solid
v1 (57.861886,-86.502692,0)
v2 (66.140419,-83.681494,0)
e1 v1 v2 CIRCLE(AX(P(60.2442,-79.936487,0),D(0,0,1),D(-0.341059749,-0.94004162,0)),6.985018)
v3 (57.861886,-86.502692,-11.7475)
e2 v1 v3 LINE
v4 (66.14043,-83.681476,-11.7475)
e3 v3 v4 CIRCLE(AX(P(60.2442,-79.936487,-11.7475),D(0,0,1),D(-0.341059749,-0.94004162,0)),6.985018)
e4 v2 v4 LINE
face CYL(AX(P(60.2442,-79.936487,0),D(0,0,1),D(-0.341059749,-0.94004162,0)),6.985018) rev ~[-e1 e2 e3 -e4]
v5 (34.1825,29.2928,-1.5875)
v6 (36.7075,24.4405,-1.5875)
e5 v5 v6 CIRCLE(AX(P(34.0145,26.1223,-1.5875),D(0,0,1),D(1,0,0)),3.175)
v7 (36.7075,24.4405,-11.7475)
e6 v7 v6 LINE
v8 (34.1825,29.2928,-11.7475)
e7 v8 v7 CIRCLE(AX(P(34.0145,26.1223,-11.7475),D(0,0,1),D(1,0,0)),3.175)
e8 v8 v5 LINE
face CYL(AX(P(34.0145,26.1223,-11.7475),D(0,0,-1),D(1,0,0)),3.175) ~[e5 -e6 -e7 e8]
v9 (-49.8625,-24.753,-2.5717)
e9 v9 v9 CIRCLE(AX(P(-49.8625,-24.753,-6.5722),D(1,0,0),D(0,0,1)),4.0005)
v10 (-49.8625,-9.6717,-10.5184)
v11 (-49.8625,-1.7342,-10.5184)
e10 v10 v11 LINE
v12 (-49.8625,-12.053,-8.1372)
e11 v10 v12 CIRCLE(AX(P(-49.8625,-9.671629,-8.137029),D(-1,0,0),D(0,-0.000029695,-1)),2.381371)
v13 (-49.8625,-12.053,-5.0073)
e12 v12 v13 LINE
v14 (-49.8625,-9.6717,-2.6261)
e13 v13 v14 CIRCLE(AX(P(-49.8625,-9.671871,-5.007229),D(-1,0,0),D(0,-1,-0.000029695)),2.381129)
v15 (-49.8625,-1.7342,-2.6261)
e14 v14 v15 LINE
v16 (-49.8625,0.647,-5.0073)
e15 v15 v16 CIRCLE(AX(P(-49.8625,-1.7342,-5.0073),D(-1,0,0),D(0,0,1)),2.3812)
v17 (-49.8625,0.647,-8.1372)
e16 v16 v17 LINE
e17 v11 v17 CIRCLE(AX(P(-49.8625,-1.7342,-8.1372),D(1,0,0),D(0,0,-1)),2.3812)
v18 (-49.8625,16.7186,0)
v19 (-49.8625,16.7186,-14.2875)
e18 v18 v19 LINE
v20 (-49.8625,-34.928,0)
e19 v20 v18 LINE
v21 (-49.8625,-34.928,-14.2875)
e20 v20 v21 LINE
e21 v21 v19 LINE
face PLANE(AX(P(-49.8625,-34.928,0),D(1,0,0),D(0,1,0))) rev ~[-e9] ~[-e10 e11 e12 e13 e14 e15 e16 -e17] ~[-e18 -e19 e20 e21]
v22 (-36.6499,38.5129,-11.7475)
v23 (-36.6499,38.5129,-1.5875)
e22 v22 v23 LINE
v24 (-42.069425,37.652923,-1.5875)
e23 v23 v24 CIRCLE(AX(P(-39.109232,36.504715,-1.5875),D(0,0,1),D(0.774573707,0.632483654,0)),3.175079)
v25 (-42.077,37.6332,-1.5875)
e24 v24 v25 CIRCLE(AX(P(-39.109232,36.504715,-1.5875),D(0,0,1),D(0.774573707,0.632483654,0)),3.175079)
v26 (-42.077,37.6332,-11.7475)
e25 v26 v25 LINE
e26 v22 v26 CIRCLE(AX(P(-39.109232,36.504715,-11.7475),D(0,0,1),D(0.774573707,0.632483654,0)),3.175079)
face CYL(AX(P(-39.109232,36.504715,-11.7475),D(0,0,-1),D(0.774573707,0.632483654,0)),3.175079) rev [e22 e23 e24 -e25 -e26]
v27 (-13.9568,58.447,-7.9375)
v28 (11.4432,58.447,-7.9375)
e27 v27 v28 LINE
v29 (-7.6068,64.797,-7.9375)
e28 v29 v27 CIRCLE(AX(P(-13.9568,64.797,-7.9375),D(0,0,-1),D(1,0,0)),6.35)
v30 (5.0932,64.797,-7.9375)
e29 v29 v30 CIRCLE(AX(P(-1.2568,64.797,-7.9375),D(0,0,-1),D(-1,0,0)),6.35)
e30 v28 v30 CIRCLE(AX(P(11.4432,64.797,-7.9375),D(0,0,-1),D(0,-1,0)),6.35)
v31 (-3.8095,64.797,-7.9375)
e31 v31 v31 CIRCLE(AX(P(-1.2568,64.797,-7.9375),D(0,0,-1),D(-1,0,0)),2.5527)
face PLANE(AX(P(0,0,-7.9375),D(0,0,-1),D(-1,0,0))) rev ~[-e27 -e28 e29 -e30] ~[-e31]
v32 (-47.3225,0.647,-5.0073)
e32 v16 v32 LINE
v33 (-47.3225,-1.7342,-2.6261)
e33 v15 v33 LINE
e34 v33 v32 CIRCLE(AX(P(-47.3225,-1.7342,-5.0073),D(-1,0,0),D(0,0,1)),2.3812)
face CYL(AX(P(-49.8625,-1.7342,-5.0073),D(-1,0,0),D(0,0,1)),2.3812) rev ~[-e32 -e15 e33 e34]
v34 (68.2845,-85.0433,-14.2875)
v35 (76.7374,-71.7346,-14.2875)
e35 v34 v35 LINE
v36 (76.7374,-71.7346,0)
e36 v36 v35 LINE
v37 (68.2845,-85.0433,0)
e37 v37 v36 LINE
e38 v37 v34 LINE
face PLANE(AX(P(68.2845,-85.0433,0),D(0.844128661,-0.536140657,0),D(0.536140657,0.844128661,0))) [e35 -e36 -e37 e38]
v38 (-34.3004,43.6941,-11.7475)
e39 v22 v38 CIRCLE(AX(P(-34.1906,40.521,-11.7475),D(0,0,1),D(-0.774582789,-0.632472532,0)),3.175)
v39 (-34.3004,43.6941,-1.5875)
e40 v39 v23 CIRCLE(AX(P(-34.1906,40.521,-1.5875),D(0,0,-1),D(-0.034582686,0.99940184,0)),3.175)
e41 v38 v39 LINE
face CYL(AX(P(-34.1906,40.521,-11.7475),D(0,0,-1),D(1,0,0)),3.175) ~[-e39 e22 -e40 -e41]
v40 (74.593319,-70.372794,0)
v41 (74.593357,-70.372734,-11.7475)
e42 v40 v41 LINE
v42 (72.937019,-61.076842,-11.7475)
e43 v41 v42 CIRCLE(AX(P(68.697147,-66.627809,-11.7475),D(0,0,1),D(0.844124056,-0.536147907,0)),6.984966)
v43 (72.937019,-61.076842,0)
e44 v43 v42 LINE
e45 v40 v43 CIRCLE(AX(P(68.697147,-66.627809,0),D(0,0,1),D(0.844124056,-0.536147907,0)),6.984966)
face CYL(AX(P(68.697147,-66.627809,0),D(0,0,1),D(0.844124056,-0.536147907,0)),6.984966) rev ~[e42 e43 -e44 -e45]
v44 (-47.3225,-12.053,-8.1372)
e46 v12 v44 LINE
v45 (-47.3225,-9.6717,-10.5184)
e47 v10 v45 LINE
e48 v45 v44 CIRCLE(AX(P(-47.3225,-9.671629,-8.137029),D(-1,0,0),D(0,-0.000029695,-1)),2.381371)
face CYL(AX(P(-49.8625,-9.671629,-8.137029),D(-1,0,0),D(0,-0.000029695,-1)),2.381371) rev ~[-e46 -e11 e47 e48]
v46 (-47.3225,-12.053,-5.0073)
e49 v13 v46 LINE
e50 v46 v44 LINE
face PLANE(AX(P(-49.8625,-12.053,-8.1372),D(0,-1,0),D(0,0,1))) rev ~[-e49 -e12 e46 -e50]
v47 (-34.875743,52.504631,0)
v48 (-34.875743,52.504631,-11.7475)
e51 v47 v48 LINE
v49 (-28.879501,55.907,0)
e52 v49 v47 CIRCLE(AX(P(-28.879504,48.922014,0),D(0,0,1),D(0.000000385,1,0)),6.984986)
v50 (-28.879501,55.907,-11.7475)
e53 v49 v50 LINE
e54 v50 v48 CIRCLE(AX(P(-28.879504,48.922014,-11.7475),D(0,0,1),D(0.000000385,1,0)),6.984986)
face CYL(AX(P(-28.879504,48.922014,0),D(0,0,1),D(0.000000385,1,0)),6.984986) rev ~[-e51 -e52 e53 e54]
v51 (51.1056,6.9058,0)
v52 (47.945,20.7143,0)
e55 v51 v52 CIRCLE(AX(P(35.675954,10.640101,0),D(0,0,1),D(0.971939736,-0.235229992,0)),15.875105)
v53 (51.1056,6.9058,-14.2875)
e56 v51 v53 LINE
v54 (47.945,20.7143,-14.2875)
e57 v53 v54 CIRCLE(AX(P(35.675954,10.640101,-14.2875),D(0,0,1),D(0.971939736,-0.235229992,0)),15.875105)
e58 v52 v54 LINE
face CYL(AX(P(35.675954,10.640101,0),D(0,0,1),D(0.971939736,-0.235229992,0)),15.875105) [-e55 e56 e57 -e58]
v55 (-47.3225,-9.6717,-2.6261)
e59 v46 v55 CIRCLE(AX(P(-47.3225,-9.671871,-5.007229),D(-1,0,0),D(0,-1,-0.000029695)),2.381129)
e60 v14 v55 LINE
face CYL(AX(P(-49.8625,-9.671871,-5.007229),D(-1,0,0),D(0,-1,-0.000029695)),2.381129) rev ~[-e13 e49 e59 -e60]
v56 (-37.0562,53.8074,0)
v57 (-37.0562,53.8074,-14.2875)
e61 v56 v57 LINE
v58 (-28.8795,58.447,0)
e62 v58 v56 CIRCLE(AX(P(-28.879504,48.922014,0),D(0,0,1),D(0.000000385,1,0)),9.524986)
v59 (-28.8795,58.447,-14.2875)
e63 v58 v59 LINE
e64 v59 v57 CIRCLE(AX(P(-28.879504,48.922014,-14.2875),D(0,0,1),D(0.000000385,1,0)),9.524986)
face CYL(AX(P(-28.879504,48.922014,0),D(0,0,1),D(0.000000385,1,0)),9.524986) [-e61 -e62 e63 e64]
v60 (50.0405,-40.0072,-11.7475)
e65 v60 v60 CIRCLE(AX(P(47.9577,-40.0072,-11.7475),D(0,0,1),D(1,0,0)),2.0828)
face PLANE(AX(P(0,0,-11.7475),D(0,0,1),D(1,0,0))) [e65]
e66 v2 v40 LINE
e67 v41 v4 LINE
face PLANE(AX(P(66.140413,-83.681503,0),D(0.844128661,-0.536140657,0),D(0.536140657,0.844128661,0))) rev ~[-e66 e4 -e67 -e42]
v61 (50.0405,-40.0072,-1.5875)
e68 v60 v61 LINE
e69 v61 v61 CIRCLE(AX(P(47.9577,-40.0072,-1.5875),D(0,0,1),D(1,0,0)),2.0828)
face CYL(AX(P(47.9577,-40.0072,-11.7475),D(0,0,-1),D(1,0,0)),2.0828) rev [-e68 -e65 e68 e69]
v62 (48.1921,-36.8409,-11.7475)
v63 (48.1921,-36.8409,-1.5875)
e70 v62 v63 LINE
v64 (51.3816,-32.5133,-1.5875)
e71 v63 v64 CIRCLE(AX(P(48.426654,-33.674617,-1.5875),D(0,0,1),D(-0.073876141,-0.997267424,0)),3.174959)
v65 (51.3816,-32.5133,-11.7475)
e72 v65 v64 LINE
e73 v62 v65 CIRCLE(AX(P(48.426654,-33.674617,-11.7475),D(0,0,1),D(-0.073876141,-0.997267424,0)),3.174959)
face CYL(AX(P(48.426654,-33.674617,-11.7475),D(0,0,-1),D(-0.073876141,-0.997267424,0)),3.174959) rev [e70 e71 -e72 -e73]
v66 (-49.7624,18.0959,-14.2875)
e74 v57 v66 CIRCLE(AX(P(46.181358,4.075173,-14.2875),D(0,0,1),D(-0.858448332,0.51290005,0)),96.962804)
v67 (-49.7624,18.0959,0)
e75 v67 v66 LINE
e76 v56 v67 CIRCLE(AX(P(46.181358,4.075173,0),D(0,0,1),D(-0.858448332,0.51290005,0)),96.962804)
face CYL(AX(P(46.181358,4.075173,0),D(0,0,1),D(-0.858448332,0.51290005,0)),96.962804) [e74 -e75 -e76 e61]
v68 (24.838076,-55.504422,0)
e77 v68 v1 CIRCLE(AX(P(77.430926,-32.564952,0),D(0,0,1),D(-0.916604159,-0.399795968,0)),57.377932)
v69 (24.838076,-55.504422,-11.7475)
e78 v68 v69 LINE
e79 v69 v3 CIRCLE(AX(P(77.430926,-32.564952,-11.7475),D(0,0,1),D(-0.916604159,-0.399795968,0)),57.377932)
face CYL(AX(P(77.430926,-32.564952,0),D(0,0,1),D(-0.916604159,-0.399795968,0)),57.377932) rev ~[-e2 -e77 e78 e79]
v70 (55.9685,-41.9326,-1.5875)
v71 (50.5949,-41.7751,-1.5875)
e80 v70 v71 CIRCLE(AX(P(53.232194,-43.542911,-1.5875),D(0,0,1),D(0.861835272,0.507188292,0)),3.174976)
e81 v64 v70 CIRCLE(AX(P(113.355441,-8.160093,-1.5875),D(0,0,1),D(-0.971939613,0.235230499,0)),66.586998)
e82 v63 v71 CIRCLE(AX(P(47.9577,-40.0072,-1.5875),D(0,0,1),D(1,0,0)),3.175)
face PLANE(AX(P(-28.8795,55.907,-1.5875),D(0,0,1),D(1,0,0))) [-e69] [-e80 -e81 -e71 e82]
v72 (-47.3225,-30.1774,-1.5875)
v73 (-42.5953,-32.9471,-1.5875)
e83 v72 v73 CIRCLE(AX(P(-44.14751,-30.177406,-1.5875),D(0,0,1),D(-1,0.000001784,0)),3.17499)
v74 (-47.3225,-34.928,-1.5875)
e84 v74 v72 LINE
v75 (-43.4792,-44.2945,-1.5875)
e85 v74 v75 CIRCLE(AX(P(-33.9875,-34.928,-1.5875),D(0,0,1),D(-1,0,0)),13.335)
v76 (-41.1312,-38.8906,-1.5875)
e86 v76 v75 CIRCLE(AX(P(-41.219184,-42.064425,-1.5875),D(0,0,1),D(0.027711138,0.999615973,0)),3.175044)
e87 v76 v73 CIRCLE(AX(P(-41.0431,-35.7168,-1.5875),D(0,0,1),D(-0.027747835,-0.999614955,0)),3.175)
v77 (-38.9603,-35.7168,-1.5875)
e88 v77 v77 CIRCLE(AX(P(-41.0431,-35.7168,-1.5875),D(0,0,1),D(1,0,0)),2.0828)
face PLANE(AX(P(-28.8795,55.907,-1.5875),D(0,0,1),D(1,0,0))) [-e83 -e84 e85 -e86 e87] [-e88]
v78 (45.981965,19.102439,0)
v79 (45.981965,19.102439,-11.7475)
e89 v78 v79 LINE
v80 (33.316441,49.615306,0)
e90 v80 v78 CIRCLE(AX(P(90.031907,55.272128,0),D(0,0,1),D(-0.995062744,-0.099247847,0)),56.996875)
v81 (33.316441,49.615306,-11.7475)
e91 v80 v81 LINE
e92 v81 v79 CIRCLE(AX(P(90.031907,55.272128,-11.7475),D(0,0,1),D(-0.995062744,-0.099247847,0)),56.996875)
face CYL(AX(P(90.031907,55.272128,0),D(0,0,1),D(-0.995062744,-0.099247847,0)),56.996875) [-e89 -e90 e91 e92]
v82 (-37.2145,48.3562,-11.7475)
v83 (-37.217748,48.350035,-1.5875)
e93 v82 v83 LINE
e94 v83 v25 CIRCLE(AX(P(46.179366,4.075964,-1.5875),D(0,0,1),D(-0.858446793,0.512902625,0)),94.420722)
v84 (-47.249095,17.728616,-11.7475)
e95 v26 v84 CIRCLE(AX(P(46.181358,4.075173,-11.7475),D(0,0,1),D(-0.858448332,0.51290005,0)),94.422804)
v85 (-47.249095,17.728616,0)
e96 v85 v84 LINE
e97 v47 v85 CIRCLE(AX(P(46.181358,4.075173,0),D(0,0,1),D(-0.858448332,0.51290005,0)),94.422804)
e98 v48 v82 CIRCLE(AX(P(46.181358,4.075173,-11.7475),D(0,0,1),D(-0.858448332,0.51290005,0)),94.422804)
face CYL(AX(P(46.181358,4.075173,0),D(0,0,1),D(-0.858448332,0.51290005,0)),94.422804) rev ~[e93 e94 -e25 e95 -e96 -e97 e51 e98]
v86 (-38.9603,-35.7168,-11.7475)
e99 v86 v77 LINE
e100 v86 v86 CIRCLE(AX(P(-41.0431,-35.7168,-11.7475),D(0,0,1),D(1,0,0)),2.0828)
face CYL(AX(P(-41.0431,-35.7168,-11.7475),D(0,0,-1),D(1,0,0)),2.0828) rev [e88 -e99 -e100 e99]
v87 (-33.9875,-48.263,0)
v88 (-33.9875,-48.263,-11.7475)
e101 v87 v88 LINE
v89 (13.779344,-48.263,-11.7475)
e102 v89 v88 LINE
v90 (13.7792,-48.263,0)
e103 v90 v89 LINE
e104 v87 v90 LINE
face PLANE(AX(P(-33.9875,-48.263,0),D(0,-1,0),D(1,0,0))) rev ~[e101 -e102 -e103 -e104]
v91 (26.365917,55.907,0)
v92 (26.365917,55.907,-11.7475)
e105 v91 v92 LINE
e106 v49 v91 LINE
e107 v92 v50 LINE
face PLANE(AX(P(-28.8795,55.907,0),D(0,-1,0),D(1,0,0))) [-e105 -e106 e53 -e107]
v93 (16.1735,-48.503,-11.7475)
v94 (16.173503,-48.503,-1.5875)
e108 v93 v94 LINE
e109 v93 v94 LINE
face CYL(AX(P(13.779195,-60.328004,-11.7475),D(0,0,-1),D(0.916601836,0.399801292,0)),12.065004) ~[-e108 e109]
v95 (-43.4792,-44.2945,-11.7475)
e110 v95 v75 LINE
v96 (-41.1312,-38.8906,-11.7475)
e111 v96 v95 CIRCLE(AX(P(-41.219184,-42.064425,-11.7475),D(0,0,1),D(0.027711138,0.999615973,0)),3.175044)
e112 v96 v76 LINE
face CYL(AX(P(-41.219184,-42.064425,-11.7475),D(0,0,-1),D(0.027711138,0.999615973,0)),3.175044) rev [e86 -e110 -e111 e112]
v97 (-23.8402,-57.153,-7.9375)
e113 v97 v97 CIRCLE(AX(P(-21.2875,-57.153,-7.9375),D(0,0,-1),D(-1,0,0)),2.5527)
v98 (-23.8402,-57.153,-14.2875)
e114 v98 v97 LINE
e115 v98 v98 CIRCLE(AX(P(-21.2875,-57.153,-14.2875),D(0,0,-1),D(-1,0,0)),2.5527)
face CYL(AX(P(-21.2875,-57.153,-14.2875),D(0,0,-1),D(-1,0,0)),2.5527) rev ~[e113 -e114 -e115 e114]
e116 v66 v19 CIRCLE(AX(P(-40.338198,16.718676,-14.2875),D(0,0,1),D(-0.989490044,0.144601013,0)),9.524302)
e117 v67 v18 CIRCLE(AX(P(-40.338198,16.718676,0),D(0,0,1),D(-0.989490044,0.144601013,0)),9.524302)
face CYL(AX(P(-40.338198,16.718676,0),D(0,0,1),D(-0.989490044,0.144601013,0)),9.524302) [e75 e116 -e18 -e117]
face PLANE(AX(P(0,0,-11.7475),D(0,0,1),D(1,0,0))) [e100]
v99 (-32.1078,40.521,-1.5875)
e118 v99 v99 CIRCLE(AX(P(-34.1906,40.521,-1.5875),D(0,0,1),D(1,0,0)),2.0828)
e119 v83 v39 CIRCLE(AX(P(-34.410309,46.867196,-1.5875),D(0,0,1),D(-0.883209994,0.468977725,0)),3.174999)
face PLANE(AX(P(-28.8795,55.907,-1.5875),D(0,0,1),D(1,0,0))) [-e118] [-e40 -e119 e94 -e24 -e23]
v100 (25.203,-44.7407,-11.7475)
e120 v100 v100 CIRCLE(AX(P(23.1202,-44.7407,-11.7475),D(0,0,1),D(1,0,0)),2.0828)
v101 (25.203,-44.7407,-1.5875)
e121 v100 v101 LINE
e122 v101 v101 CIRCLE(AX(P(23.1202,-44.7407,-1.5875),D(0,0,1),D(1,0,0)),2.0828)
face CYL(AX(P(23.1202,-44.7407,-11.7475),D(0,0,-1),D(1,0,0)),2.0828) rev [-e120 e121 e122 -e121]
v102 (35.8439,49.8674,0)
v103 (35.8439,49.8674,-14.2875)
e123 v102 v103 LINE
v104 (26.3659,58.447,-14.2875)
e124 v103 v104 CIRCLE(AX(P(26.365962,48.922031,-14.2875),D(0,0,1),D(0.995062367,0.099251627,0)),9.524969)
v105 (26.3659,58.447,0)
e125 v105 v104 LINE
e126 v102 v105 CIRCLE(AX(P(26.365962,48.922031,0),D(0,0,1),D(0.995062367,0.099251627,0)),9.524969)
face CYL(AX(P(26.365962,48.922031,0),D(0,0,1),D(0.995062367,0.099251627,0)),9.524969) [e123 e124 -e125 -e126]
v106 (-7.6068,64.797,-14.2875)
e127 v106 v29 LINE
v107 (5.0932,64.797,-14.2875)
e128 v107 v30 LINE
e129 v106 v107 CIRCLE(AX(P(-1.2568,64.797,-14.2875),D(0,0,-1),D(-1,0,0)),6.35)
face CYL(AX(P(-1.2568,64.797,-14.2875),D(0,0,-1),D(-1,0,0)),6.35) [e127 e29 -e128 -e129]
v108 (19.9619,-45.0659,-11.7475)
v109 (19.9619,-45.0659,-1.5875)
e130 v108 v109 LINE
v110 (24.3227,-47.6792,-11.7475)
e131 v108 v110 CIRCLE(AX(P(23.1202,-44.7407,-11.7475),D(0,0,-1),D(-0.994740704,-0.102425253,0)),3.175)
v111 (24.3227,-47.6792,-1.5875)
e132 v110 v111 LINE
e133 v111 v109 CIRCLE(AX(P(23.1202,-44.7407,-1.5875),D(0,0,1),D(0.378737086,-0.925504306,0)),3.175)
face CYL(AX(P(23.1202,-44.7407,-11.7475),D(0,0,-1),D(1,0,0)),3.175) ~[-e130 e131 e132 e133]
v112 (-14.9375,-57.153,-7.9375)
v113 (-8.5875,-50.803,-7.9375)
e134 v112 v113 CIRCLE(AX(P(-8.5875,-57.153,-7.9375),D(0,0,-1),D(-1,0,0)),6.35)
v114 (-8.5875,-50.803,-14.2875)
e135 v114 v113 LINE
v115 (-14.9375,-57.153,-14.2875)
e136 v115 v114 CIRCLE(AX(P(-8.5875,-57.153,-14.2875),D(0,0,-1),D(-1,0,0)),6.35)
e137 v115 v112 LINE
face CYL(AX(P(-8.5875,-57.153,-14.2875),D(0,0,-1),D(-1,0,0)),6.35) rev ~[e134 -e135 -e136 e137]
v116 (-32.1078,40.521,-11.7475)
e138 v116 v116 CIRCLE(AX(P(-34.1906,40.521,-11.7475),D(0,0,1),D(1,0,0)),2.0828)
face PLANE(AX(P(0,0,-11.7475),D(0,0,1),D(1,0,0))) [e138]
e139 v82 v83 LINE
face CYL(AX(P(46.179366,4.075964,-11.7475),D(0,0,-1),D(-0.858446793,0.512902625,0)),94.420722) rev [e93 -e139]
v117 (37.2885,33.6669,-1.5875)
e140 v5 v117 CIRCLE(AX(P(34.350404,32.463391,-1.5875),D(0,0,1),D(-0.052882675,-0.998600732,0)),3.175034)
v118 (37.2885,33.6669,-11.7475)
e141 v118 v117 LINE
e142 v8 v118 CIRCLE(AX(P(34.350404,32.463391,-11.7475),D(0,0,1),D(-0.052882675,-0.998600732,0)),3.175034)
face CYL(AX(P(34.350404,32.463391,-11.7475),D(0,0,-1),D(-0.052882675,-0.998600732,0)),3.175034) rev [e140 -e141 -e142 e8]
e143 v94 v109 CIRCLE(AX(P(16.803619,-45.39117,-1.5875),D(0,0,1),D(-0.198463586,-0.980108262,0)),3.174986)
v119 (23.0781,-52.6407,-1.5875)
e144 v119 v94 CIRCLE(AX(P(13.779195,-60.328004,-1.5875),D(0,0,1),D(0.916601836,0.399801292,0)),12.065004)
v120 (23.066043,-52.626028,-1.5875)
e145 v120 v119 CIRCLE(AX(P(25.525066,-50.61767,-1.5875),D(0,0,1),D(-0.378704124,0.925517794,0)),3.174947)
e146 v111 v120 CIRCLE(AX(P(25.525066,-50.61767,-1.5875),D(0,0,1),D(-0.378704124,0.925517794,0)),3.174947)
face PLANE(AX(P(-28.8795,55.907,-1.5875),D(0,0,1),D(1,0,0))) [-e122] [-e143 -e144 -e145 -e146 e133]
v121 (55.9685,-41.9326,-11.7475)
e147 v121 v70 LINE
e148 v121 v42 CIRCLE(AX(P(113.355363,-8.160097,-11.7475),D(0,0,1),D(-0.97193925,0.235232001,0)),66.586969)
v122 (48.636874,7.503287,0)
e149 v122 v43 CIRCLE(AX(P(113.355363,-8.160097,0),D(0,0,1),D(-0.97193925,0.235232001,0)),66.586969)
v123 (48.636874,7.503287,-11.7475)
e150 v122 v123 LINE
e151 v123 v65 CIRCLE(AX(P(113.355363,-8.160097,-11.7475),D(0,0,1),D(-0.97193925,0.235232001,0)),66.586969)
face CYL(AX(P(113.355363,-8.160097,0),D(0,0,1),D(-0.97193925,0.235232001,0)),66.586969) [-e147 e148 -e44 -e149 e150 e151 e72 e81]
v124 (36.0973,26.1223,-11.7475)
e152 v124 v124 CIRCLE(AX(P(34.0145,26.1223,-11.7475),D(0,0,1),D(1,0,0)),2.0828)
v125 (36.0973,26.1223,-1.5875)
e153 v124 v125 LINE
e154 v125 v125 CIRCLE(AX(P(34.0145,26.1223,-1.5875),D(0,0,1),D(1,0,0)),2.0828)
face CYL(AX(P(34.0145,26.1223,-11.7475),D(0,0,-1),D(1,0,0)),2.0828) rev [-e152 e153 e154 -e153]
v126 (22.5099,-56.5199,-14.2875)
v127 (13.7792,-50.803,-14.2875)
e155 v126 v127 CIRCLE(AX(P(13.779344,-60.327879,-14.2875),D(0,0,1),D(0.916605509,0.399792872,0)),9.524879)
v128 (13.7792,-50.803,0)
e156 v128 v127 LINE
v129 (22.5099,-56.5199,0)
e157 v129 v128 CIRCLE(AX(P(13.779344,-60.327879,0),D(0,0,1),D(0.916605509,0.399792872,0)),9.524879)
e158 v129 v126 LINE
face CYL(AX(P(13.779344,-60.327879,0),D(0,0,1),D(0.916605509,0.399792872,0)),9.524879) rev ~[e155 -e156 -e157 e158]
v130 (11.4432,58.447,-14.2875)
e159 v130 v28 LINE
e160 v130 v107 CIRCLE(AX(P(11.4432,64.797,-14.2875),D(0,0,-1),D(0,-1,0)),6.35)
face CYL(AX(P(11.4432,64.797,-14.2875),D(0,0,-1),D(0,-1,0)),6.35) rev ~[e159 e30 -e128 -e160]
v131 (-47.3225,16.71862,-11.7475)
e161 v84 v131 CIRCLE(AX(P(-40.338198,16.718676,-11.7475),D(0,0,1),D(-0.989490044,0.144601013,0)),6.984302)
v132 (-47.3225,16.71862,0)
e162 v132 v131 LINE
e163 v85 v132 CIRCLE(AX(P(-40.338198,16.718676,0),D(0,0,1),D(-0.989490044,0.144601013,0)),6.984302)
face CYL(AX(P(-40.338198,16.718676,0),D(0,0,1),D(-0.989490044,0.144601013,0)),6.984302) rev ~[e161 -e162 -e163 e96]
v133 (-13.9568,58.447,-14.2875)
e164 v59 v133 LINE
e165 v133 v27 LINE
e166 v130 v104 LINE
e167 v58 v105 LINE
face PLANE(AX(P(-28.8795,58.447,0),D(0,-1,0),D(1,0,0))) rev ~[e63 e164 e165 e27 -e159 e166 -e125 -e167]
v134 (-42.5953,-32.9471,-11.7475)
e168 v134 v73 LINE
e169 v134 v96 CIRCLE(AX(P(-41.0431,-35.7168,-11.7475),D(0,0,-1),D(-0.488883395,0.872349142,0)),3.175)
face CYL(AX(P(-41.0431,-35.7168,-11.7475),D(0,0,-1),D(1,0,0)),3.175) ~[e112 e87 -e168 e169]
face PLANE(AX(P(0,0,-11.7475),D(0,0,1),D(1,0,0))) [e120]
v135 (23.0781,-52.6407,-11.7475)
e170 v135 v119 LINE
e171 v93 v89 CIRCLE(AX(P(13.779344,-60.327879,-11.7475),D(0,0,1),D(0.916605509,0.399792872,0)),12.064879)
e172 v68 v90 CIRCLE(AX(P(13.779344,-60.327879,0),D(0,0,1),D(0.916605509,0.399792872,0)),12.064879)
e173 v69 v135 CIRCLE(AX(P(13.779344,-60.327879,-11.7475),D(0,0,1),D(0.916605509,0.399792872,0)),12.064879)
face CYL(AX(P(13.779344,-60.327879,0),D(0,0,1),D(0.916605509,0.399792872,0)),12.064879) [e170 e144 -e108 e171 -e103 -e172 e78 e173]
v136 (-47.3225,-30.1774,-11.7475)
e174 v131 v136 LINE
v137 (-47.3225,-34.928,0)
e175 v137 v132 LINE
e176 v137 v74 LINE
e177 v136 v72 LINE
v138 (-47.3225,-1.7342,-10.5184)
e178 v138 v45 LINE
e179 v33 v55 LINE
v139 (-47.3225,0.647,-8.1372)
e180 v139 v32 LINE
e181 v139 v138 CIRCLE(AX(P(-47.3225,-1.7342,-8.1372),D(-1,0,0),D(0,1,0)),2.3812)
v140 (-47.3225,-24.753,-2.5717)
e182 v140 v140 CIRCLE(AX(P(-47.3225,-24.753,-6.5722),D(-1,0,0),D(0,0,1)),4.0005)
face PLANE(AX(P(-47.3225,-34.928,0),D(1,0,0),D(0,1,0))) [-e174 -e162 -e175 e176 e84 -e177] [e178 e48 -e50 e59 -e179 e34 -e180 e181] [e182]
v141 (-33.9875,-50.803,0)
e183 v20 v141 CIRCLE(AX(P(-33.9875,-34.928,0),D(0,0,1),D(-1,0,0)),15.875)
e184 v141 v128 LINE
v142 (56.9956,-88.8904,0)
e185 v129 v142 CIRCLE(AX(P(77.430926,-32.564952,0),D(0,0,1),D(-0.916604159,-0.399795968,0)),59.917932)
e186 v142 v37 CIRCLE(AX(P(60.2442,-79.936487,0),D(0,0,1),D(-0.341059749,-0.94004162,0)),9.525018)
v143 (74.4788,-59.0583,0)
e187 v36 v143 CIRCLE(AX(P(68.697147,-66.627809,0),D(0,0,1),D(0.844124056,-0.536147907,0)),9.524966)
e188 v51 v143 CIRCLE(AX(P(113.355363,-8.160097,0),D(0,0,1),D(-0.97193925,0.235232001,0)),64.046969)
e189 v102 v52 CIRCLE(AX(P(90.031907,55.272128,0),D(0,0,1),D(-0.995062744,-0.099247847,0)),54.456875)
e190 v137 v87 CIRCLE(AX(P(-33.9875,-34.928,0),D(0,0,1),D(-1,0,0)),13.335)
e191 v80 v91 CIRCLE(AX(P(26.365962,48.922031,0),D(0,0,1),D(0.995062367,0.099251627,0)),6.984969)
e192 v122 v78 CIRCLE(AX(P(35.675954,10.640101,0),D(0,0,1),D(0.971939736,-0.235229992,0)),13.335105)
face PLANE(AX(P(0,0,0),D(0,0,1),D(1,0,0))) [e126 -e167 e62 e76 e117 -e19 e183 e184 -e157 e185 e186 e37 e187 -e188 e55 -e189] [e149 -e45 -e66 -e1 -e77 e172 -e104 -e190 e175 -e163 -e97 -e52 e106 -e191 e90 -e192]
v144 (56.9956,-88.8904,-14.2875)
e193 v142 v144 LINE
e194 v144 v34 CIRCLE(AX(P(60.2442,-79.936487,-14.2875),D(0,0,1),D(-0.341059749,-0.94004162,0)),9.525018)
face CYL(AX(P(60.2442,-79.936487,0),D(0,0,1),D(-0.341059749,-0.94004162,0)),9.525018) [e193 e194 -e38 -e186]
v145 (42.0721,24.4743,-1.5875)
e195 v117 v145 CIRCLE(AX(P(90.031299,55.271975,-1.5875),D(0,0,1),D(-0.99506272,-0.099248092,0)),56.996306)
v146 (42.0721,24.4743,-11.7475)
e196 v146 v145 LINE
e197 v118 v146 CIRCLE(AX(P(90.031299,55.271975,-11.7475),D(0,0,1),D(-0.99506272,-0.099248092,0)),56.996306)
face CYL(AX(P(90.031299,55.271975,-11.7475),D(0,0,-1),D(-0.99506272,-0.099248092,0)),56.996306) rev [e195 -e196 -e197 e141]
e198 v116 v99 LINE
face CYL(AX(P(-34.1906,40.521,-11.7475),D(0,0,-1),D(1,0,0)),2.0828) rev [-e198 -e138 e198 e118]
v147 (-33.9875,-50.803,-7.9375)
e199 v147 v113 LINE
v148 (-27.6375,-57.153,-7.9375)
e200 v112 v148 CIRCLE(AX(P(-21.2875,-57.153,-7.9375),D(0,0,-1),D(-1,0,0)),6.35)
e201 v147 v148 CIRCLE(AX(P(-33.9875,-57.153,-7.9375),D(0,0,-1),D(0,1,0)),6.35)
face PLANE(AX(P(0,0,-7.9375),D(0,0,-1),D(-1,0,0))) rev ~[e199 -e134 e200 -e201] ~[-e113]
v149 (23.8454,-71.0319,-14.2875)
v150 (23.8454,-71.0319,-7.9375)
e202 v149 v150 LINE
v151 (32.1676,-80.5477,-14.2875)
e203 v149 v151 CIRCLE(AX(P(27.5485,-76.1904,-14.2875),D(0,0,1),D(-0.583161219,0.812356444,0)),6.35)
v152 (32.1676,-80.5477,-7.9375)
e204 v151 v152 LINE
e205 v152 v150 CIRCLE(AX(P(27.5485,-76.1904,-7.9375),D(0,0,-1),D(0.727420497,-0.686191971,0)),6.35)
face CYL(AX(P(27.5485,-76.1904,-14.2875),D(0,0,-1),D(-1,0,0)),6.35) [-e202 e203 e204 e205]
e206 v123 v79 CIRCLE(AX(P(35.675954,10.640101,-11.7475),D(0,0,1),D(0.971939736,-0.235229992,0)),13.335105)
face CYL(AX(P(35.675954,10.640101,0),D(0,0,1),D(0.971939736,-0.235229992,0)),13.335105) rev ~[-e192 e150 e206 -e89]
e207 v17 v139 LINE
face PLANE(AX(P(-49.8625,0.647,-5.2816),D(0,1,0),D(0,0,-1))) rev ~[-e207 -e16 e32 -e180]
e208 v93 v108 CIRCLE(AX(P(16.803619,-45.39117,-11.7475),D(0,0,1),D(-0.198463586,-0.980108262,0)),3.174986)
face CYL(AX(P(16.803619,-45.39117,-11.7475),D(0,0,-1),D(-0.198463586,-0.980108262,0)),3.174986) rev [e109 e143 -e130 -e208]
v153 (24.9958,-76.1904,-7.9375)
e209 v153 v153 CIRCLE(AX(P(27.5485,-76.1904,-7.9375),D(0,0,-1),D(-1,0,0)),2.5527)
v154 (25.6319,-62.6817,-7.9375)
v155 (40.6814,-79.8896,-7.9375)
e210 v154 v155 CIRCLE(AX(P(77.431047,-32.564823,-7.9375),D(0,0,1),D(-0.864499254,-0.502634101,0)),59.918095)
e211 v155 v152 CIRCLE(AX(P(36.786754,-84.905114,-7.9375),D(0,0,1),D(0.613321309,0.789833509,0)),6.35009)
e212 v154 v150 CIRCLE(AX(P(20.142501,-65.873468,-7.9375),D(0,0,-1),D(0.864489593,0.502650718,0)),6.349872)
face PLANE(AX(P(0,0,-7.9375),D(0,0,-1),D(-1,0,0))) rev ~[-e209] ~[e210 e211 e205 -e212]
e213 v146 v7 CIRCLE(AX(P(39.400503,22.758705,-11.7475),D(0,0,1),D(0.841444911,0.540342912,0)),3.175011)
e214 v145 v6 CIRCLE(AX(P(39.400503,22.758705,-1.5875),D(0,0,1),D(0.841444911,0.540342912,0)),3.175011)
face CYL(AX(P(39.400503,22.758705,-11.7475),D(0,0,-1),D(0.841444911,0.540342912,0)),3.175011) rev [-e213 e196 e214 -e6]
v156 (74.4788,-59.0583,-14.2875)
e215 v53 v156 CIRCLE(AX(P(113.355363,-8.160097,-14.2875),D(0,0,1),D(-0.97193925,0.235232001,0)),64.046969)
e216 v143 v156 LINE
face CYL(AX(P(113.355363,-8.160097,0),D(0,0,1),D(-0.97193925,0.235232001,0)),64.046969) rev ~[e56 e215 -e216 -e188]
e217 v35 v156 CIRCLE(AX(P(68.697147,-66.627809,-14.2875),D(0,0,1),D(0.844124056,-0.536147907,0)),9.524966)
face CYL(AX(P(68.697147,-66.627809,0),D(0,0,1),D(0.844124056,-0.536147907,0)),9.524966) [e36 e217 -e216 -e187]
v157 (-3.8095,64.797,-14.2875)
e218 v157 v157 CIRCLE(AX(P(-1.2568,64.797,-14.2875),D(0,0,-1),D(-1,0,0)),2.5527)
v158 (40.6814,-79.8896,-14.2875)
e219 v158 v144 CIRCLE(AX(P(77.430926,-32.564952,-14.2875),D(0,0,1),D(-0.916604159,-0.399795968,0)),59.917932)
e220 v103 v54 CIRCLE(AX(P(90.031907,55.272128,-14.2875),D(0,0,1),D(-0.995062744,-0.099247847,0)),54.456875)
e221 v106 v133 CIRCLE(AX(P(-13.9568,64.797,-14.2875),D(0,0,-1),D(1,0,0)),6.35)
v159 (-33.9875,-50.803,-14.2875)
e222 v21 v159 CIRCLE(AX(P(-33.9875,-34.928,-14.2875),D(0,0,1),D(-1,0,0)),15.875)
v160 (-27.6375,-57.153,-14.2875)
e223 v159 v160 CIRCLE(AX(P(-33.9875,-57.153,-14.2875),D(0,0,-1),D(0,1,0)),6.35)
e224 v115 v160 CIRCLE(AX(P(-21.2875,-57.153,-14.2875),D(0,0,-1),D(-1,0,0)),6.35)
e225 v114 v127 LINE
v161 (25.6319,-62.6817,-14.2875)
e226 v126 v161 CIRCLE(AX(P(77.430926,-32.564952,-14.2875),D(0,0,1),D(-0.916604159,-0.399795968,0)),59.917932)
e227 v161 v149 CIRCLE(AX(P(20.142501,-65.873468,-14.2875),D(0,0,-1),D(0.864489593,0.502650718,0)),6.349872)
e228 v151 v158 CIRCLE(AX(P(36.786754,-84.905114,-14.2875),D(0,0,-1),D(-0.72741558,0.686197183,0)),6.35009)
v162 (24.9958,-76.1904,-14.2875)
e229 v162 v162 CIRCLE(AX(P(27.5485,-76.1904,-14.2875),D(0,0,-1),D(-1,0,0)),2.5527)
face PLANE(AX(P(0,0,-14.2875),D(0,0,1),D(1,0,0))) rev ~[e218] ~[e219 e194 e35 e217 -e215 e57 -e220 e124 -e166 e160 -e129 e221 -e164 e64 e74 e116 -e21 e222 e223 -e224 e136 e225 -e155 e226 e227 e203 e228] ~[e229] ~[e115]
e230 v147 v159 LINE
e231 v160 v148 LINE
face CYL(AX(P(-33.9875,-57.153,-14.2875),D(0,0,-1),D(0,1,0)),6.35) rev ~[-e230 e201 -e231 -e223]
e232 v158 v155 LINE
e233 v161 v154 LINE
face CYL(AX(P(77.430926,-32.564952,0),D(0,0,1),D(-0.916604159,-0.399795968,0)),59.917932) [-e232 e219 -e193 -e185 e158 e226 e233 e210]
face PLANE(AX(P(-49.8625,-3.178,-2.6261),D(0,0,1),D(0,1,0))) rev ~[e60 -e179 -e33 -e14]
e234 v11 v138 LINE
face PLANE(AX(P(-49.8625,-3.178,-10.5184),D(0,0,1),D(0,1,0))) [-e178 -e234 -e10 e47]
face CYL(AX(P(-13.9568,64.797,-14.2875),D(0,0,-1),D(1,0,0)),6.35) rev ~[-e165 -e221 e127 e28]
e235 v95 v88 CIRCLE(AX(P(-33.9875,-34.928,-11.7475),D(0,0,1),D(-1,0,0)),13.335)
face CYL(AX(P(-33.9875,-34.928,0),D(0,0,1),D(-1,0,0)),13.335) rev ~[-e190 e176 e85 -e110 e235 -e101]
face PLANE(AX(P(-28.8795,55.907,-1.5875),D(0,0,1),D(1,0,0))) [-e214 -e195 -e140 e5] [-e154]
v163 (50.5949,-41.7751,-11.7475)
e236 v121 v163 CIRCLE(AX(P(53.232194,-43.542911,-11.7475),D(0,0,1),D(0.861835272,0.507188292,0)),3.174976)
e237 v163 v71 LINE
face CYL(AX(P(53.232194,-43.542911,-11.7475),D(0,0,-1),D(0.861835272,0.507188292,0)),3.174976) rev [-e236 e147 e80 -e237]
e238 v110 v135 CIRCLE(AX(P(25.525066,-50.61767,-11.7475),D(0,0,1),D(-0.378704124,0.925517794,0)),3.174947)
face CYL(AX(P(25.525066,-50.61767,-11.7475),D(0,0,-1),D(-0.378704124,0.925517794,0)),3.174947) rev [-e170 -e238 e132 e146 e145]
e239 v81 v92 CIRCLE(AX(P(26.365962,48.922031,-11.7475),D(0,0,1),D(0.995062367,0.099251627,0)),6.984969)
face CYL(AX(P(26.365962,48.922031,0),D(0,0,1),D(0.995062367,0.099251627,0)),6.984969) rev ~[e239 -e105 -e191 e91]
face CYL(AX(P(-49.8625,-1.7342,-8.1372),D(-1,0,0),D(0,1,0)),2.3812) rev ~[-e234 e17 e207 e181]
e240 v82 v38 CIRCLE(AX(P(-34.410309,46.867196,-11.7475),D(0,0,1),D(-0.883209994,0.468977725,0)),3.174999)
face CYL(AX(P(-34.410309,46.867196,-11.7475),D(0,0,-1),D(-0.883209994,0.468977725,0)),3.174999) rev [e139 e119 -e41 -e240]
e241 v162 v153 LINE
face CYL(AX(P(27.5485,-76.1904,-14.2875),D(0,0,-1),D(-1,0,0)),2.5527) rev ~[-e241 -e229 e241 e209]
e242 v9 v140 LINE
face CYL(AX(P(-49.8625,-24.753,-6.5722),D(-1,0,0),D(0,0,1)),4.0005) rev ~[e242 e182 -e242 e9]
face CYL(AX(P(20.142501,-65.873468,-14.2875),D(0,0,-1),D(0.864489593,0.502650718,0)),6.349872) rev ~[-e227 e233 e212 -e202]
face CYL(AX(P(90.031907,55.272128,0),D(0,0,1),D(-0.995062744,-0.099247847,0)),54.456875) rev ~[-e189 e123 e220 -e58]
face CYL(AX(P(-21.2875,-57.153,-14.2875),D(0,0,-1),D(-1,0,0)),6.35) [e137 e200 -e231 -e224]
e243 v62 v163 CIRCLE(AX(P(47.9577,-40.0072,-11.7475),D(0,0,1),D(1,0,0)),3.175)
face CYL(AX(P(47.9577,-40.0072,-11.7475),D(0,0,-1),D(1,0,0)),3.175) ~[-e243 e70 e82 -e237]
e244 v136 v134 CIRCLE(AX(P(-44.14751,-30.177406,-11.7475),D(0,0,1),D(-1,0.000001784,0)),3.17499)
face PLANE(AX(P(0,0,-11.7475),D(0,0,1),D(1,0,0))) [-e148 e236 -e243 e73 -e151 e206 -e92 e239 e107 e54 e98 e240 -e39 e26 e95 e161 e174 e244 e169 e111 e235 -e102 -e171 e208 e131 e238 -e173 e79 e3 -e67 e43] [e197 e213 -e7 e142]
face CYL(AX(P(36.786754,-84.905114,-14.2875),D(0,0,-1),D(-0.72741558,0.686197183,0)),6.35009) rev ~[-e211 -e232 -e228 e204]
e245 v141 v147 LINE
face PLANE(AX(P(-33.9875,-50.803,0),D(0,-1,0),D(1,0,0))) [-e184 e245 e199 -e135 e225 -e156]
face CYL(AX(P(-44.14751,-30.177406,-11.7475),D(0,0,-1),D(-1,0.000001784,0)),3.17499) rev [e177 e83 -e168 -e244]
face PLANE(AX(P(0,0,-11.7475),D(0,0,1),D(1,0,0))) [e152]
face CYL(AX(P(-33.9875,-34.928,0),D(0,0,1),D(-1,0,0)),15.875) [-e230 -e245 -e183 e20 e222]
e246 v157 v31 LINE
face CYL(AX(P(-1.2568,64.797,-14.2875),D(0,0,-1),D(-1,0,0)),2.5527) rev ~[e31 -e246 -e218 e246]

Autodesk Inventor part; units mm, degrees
ref_plane "YZ Plane" through (0, 0, 0) normal (1, 0, 0) x (0, 1, 0)
ref_plane "XZ Plane" through (0, 0, 0) normal (0, 1, 0) x (-1, 0, 0)
ref_plane "XY Plane" through (0, 0, 0) normal (0, 0, 1) x (1, 0, 0)
sketch "Sketch1" plane through (0, 0, 0) normal (0, 0, 1) x (1, 0, 0)
  arc A0 (-34.3306, 52.1789) -> (-46.6208, 17.6368) centre (46.1813, 4.0752) ccw projected
  arc A1 (-46.6913, -8.336) -> (-46.6875, -8.1163) centre (-53.0375, -8.1163) ccw projected
  arc A2 (-46.6208, 17.6368) -> (-46.6875, 16.7186) centre (-40.3375, 16.7186) ccw projected
  arc A3 (-28.8795, 55.272) -> (-34.3306, 52.1789) centre (-28.8795, 48.922) ccw projected
  line L0 (-28.8795, 55.272) -> (26.3659, 55.272) projected
  arc A4 (32.6845, 49.5522) -> (26.3659, 55.272) centre (26.3659, 48.922) ccw projected
  arc A5 (32.6845, 49.5522) -> (45.4912, 18.6994) centre (90.0314, 55.272) ccw projected
  arc A6 (48.0197, 7.6526) -> (45.4912, 18.6994) centre (35.6761, 10.6401) ccw projected
  arc A7 (48.0197, 7.6526) -> (72.5516, -61.5815) centre (113.3553, -8.1601) ccw projected
  arc A8 (74.0573, -70.0323) -> (72.5516, -61.5815) centre (68.6971, -66.6278) ccw projected
  line L1 (65.6044, -83.341) -> (74.0573, -70.0323) projected
  arc A9 (58.0785, -85.9058) -> (65.6044, -83.341) centre (60.2442, -79.9365) ccw projected
  arc A10 (25.4201, -55.2506) -> (58.0785, -85.9058) centre (77.431, -32.5649) ccw projected
  arc A11 (25.4201, -55.2506) -> (13.7792, -47.628) centre (13.7792, -60.328) ccw projected
  arc A12 (-49.8625, -34.928) -> (-33.9875, -50.803) centre (-33.9875, -34.928) ccw
  arc A13 (-37.0562, 53.8074) -> (-49.7624, 18.0959) centre (46.1813, 4.0752) ccw
  arc A14 (-28.8795, 58.447) -> (-37.0562, 53.8074) centre (-28.8795, 48.922) ccw
  arc A15 (35.8439, 49.8674) -> (26.3659, 58.447) centre (26.3659, 48.922) ccw
  arc A16 (35.8439, 49.8674) -> (47.945, 20.7143) centre (90.0314, 55.272) ccw
  arc A17 (51.1056, 6.9058) -> (47.945, 20.7143) centre (35.6761, 10.6401) ccw
  arc A18 (51.1056, 6.9058) -> (74.4788, -59.0583) centre (113.3553, -8.1601) ccw
  arc A19 (76.7374, -71.7346) -> (74.4788, -59.0583) centre (68.6971, -66.6278) ccw
  arc A20 (22.5099, -56.5199) -> (13.7792, -50.803) centre (13.7792, -60.328) ccw
  line L2 (-33.9875, -34.928) -> (-33.9875, -63.8542)
  line L3 (-33.9875, -34.928) -> (-53.3277, -34.928)
  arc A21 (-49.7624, 18.0959) -> (-49.8625, 16.7186) centre (-40.3375, 16.7186) ccw
  line L4 (-40.3375, 16.7186) -> (-53.0375, 16.7186)
  line L5 (-40.3375, 16.7186) -> (-50.1751, 18.1562)
  line L6 (-28.8795, 48.922) -> (-38.906, 54.9127)
  line L7 (-28.8795, 48.922) -> (-28.8795, 65.0273)
  line L8 (26.3659, 48.922) -> (26.3659, 63.8949)
  line L9 (26.3659, 48.922) -> (41.6068, 50.4421)
  line L10 (35.6761, 10.6401) -> (50.953, 23.1841)
  line L11 (35.6761, 10.6401) -> (56.3542, 5.6355)
  line L12 (68.6971, -66.6278) -> (82.3318, -48.7769)
  line L13 (68.6971, -66.6278) -> (86.2238, -77.7598)
  line L14 (60.2442, -79.9365) -> (52.8937, -100.1965)
  line L15 (13.7792, -60.328) -> (13.7792, -43.3364)
  line L16 (13.7792, -60.328) -> (29.8025, -53.3391)
  line L17 (60.2442, -79.9365) -> (68.7206, -85.3202)
  arc A22 (56.9956, -88.8904) -> (68.2845, -85.0433) centre (60.2442, -79.9365) ccw
  arc A23 (22.5099, -56.5199) -> (56.9956, -88.8904) centre (77.431, -32.5649) ccw
  line L18 (68.2845, -85.0433) -> (76.7374, -71.7346)
  line L19 (-49.8625, -34.928) -> (-49.8625, 16.7186)
  line L20 (-33.9875, -50.803) -> (13.7792, -50.803)
  line L21 (-28.8795, 58.447) -> (26.3659, 58.447)
  circle A24 centre (12.1917, -49.2155) radius 1.5875
  line L22 (-46.6875, 16.7186) -> (-46.6875, -34.928) projected
  arc A25 (-46.6875, -34.928) -> (-33.9875, -47.628) centre (-33.9875, -34.928) ccw projected
  line L23 (13.7792, -47.628) -> (-33.9875, -47.628) projected
  point P0 (0, 0)
  point P1 (-33.9875, -51.1891)
  point P2 (-45.0507, -34.928)
  dimension "d0" = 3.175
extrude "Extrusion1" add sketch "Sketch1" against normal blind 14.2875 contours L6 L7 L0 L8 L9 A5 L10 L11 A7 L12 L13 L1 L17 L14 A10 A11 L23 L2 L3 L22 L4 L5 A0 | L6 A14 L7 A3 | A3 L7 L6 | A0 L5 A13 L6 | L5 L4 A2 | A2 L4 A21 L5 | L7 L21 L8 L0 | L22 L3 L19 L4 | L8 A15 L9 A4 | A4 L9 L8 | L9 A16 L10 A5 | L3 A25 L2 A12 | L3 L2 A25 | L10 A17 L11 A6 | A6 L11 L10 | L2 L23 A24 L20 | L11 A18 L12 A7 | A24 L15 L20 | A24 | L23 L15 A24 | L12 A19 L13 A8 | A8 L13 L12 | L15 A11 L16 A20 | L13 L18 L17 L1 | L16 A10 L14 A23 | L17 A22 L14 A9 | A9 L14 L17
shell "Shell1" thickness 2.54 removed faces 1 at (4.4642, -12.5389, 0)
sketch "Sketch2" plane through (0, 0, -14.2875) normal (0, 0, -1) x (-1, 0, 0)
  arc A0 (7.6068, 64.797) -> (13.9568, 58.447) centre (13.9568, 64.797) ccw projected
  circle A1 centre (1.2568, 64.797) radius 6.35 projected
  circle A2 centre (1.2568, 64.797) radius 2.5527
  arc A3 (-11.4432, 58.447) -> (-5.0932, 64.797) centre (-11.4432, 64.797) ccw projected
  arc A4 (33.9875, -50.803) -> (27.6375, -57.153) centre (33.9875, -57.153) ccw projected
  circle A5 centre (21.2875, -57.153) radius 6.35 projected
  circle A6 centre (21.2875, -57.153) radius 2.5527
  arc A7 (14.9375, -57.153) -> (8.5875, -50.803) centre (8.5875, -57.153) ccw projected
  arc A8 (-25.6319, -62.6817) -> (-23.8454, -71.0319) centre (-20.1423, -65.8735) ccw projected
  circle A9 centre (-27.5485, -76.1904) radius 6.35 projected
  circle A10 centre (-27.5485, -76.1904) radius 2.5527
  arc A11 (-32.1676, -80.5477) -> (-40.6814, -79.8896) centre (-36.7867, -84.905) ccw projected
  arc A12 (-32.1676, -80.5477) -> (-40.6814, -79.8896) centre (-36.7867, -84.905) ccw
  arc A13 (-25.6319, -62.6817) -> (-23.8454, -71.0319) centre (-20.1423, -65.8735) ccw
  arc A14 (-56.9956, -88.8904) -> (-22.5099, -56.5199) centre (-77.431, -32.5649) ccw projected
  arc A15 (-23.8454, -71.0319) -> (-32.3284, -72.0101) centre (-27.5485, -76.1904) ccw
  arc A16 (-32.3284, -72.0101) -> (-32.1676, -80.5477) centre (-27.5485, -76.1904) ccw
  arc A17 (-40.6814, -79.8896) -> (-32.3284, -72.0101) centre (-77.431, -32.5649) ccw
  arc A18 (-32.3284, -72.0101) -> (-25.6319, -62.6817) centre (-77.431, -32.5649) ccw
  arc A19 (-56.9956, -88.8904) -> (-22.5099, -56.5199) centre (-77.431, -32.5649) ccw projected
  arc A20 (-11.4432, 58.447) -> (-5.0932, 64.797) centre (-11.4432, 64.797) ccw
  arc A21 (7.6068, 64.797) -> (13.9568, 58.447) centre (13.9568, 64.797) ccw
  arc A22 (1.2568, 58.447) -> (7.6068, 64.797) centre (1.2568, 64.797) ccw
  arc A23 (-5.0932, 64.797) -> (1.2568, 58.447) centre (1.2568, 64.797) ccw
  line L0 (-11.4432, 58.447) -> (1.2568, 58.447)
  line L1 (28.8795, 58.447) -> (-26.3659, 58.447) projected
  line L2 (1.2568, 58.447) -> (13.9568, 58.447)
  arc A24 (14.9375, -57.153) -> (8.5875, -50.803) centre (8.5875, -57.153) ccw
  arc A25 (33.9875, -50.803) -> (27.6375, -57.153) centre (33.9875, -57.153) ccw
  line L3 (-13.7792, -50.803) -> (33.9875, -50.803) projected
  arc A26 (27.6375, -57.153) -> (21.2875, -50.803) centre (21.2875, -57.153) ccw
  arc A27 (21.2875, -50.803) -> (14.9375, -57.153) centre (21.2875, -57.153) ccw
  line L4 (8.5875, -50.803) -> (21.2875, -50.803)
  line L5 (21.2875, -50.803) -> (33.9875, -50.803)
  circle A28 centre (1.2568, 64.797) radius 2.5527 projected
  circle A29 centre (21.2875, -57.153) radius 2.5527 projected
  circle A30 centre (-27.5485, -76.1904) radius 2.5527 projected
  point P0 (0, 0)
extrude "Extrusion2" add sketch "Sketch2" against normal blind 6.35
sketch "Sketch3" plane through (-28.8795, 55.907, -11.7475) normal (0, 0, 1) x (1, 0, 0)
  circle A0 centre (-5.3111, -15.386) radius 2.0828 projected
  circle A1 centre (-12.1636, -91.6238) radius 2.0828 projected
  circle A2 centre (51.9997, -100.6477) radius 2.0828 projected
  circle A3 centre (76.8372, -95.9142) radius 2.0828 projected
  circle A4 centre (62.894, -29.7847) radius 2.0828 projected
  line L0 (103.4728, -126.2798) -> (95.0198, -139.5885) projected
  arc A5 (86.7414, -142.4097) -> (95.0198, -139.5885) centre (89.1236, -135.8435) ccw projected
  arc A6 (53.7175, -111.4114) -> (86.7414, -142.4097) centre (106.3104, -88.4719) ccw projected
  arc A7 (53.7175, -111.4114) -> (42.6587, -104.17) centre (42.6587, -116.235) ccw projected
  line L1 (42.6587, -104.17) -> (-5.108, -104.17) projected
  arc A8 (-18.443, -90.835) -> (-5.108, -104.17) centre (-5.108, -90.835) ccw projected
  line L2 (-18.443, -90.835) -> (-18.443, -39.1884) projected
  arc A9 (-18.3696, -38.1784) -> (-18.443, -39.1884) centre (-11.458, -39.1884) ccw projected
  arc A10 (-5.9963, -3.4024) -> (-18.3696, -38.1784) centre (75.0607, -51.8319) ccw projected
  arc A11 (0, 0) -> (-5.9963, -3.4024) centre (0, -6.985) ccw projected
  line L3 (0, 0) -> (55.2453, 0) projected
  arc A12 (62.1959, -6.2918) -> (55.2453, 0) centre (55.2453, -6.985) ccw projected
  arc A13 (62.1959, -6.2918) -> (74.8615, -36.8046) centre (118.9109, -0.635) ccw projected
  arc A14 (77.5164, -48.4038) -> (74.8615, -36.8046) centre (64.5556, -45.2669) ccw projected
  arc A15 (77.5164, -48.4038) -> (101.8165, -116.9838) centre (142.2348, -64.0671) ccw projected
  arc A16 (103.4728, -126.2798) -> (101.8165, -116.9838) centre (97.5766, -122.5348) ccw projected
  line L4 (55.2453, 2.54) -> (0, 2.54) projected
  arc A17 (0, 2.54) -> (-8.1767, -2.0996) centre (0, -6.985) ccw projected
  arc A18 (-8.1767, -2.0996) -> (-20.8829, -37.8111) centre (75.0607, -51.8319) ccw projected
  arc A19 (-20.8829, -37.8111) -> (-20.983, -39.1884) centre (-11.458, -39.1884) ccw projected
  line L5 (-20.983, -39.1884) -> (-20.983, -90.835) projected
  arc A20 (-20.983, -90.835) -> (-5.108, -106.71) centre (-5.108, -90.835) ccw projected
  line L6 (-5.108, -106.71) -> (42.6587, -106.71) projected
  arc A21 (51.3893, -112.4269) -> (42.6587, -106.71) centre (42.6587, -116.235) ccw projected
  arc A22 (51.3893, -112.4269) -> (85.8751, -144.7974) centre (106.3104, -88.4719) ccw projected
  arc A23 (85.8751, -144.7974) -> (97.1639, -140.9503) centre (89.1236, -135.8435) ccw projected
  line L7 (97.1639, -140.9503) -> (105.6169, -127.6416) projected
  arc A24 (105.6169, -127.6416) -> (103.3583, -114.9653) centre (97.5766, -122.5348) ccw projected
  arc A25 (79.9851, -49.0012) -> (103.3583, -114.9653) centre (142.2348, -64.0671) ccw projected
  arc A26 (79.9851, -49.0012) -> (76.8245, -35.1927) centre (64.5556, -45.2669) ccw projected
  arc A27 (64.7233, -6.0397) -> (76.8245, -35.1927) centre (118.9109, -0.635) ccw projected
  arc A28 (64.7233, -6.0397) -> (55.2453, 2.54) centre (55.2453, -6.985) ccw projected
  circle A29 centre (-5.3111, -15.386) radius 3.175
  circle A30 centre (-12.1636, -91.6238) radius 3.175
  circle A31 centre (51.9997, -100.6477) radius 3.175
  circle A32 centre (76.8372, -95.9142) radius 3.175
  circle A33 centre (62.894, -29.7847) radius 3.175
  arc A34 (-18.443, -86.0844) -> (-13.7158, -88.8541) centre (-15.268, -86.0844) ccw
  arc A35 (-12.2517, -94.7976) -> (-14.5997, -100.2015) centre (-12.3397, -97.9714) ccw
  arc A36 (45.053, -104.41) -> (48.8414, -100.9729) centre (45.6831, -101.2981) ccw
  arc A37 (53.7175, -111.4114) -> (42.6587, -104.17) centre (42.6587, -116.235) ccw projected
  arc A38 (53.2022, -103.5862) -> (51.9576, -108.5477) centre (54.4046, -106.5247) ccw
  arc A39 (77.5164, -48.4038) -> (101.8165, -116.9838) centre (142.2348, -64.0671) ccw projected
  arc A40 (77.0716, -92.7479) -> (80.2611, -88.4203) centre (77.3061, -89.5815) ccw
  arc A41 (84.848, -97.8396) -> (79.4744, -97.6821) centre (82.1117, -99.4499) ccw
  arc A42 (63.062, -26.6142) -> (66.168, -22.2401) centre (63.2299, -23.4436) ccw
  arc A43 (70.9516, -31.4327) -> (65.587, -31.4665) centre (68.28, -33.1483) ccw
  arc A44 (-8.335, -7.5508) -> (-5.4209, -12.2129) centre (-5.5307, -9.0398) ccw
  arc A45 (-7.7704, -17.3941) -> (-13.1975, -18.2738) centre (-10.2297, -19.4022) ccw
  line L8 (-18.443, -90.835) -> (-18.443, -39.1884) projected
  arc A46 (-18.443, -90.835) -> (-5.108, -104.17) centre (-5.108, -90.835) ccw projected
  arc A47 (53.7175, -111.4114) -> (42.6587, -104.17) centre (42.6587, -116.235) ccw projected
  arc A48 (77.5164, -48.4038) -> (101.8165, -116.9838) centre (142.2348, -64.0671) ccw projected
  arc A49 (62.1959, -6.2918) -> (74.8615, -36.8046) centre (118.9109, -0.635) ccw projected
  arc A50 (-5.9963, -3.4024) -> (-18.3696, -38.1784) centre (75.0607, -51.8319) ccw projected
  point P0 (28.8795, -55.907)
  dimension "d6" = 6.35
extrude "Extrusion3" add sketch "Sketch3" along normal blind 10.16 contours A41 A32 A40 A15 | A32 | A7 A36 A31 A38 | A31 | A43 A33 A42 A13 | A33 | A8 L2 A34 A30 A35 | A30 | A44 A29 A45 A10 | A29
thread "Thread1" size "8-32 UNC" class "2B" standard "ANSI Unified Screw Threads" full length
thread "Thread2" size "8-32 UNC" class "2B" standard "ANSI Unified Screw Threads" full length
thread "Thread3" size "8-32 UNC" class "2B" standard "ANSI Unified Screw Threads" full length
thread "Thread4" size "8-32 UNC" class "2B" standard "ANSI Unified Screw Threads" full length
thread "Thread5" size "8-32 UNC" class "2B" standard "ANSI Unified Screw Threads" full length
sketch "Sketch4" plane through (-49.8625, -34.928, 0) normal (-1, 0, 0) x (0, 0, 1)
  line L0 (-11.7475, -3.9626) -> (-11.7475, -9.3665) projected
  line L1 (-11.7475, -13.335) -> (-11.7475, -9.3665) projected
  line L2 (-11.7475, -13.575) -> (-11.7475, -13.335) projected
  line L3 (-11.7475, -13.575) -> (-11.7475, -10.1379) projected
  line L4 (-11.7475, -10.1379) -> (-11.7475, -12.7512) projected
  line L5 (-11.7475, -12.7512) -> (-11.7475, -17.7127) projected
  line L6 (-11.7475, -20.5764) -> (-11.7475, -17.7127) projected
  line L7 (-11.7475, -51.5747) -> (-11.7475, -20.5764) projected
  line L8 (-11.7475, -48.7535) -> (-11.7475, -51.5747) projected
  line L9 (-11.7475, -35.4448) -> (-11.7475, -48.7535) projected
  line L10 (-11.7475, -26.1488) -> (-11.7475, -35.4448) projected
  line L11 (-11.7475, -7.0046) -> (-11.7475, -26.1488) projected
  line L12 (-11.7475, -7.0046) -> (-11.7475, -6.8471) projected
  line L13 (-11.7475, -6.8471) -> (-11.7475, -1.9129) projected
  line L14 (-11.7475, -1.9129) -> (-11.7475, 2.4147) projected
  line L15 (-11.7475, 42.4312) -> (-11.7475, 2.4147) projected
  line L16 (-11.7475, 54.0304) -> (-11.7475, 42.4312) projected
  line L17 (-11.7475, 59.4023) -> (-11.7475, 54.0304) projected
  line L18 (-11.7475, 59.4023) -> (-11.7475, 59.3685) projected
  line L19 (-11.7475, 59.3685) -> (-11.7475, 64.2208) projected
  line L20 (-11.7475, 64.2208) -> (-11.7475, 68.5949) projected
  line L21 (-11.7475, 84.5432) -> (-11.7475, 68.5949) projected
  line L22 (-11.7475, 90.835) -> (-11.7475, 84.5432) projected
  line L23 (-11.7475, 87.4326) -> (-11.7475, 90.835) projected
  line L24 (-11.7475, 83.2842) -> (-11.7475, 87.4326) projected
  line L25 (-11.7475, 83.2842) -> (-11.7475, 78.6221) projected
  line L26 (-11.7475, 78.6221) -> (-11.7475, 73.4409) projected
  line L27 (-11.7475, 73.4409) -> (-11.7475, 72.5612) projected
  line L28 (-11.7475, 52.6566) -> (-11.7475, 72.5612) projected
  line L29 (-11.7475, 51.6466) -> (-11.7475, 52.6566) projected
  line L30 (-11.7475, 4.7506) -> (-11.7475, 51.6466) projected
  line L31 (-11.7475, 4.7506) -> (-11.7475, 1.9809) projected
  line L32 (-11.7475, 1.9809) -> (-11.7475, -3.9626) projected
  line L33 (-1.397, 26.7) -> (-1.397, 12.7) projected
  line L34 (0, 12.7) -> (0, 26.7) projected
  line L35 (0, 31.75) -> (0, 45.75) projected
  line L36 (-1.397, 45.75) -> (-1.397, 31.75) projected
  line L37 (-1.397, -17.7375) -> (-1.397, 65.21)
  line L38 (0, 26.7) -> (-1.397, 26.7)
  line L39 (-1.397, 26.7) -> (-1.397, 31.75)
  line L40 (-1.397, 31.75) -> (0, 31.75)
  line L41 (0, 31.75) -> (0, 26.7)
  line L42 (0, -6.35) -> (0, 7.65) projected
  line L43 (0, 7.65) -> (-1.397, 7.65)
  line L44 (-1.397, 7.65) -> (-1.397, 12.7)
  line L45 (-1.397, 12.7) -> (0, 12.7)
  line L46 (0, 12.7) -> (0, 7.65)
  line L47 (-1.397, 7.65) -> (-11.7475, 7.65)
  line L48 (-11.7475, 7.65) -> (-11.7475, 12.7)
  line L49 (-11.7475, 12.7) -> (-1.397, 12.7)
  line L50 (-1.397, 12.7) -> (-1.397, 7.65)
  line L51 (-1.397, 26.7) -> (-11.7475, 26.7)
  line L52 (-11.7475, 26.7) -> (-11.7475, 31.75)
  line L53 (-11.7475, 31.75) -> (-1.397, 31.75)
  line L54 (-1.397, 31.75) -> (-1.397, 26.7)
  line L55 (-11.7475, 7.65) -> (-1.397, 12.7)
  line L56 (-11.7475, 12.7) -> (-1.397, 7.65)
  line L57 (-11.7475, 26.7) -> (-1.397, 31.75)
  line L58 (-11.7475, 31.75) -> (-1.397, 26.7)
  circle A0 centre (-6.5722, 10.175) radius 4.0005
  line L59 (-2.7622, 24.4625) -> (-10.3822, 24.4625)
  line L60 (-10.3822, 24.4625) -> (-10.3822, 33.9875)
  line L61 (-10.3822, 33.9875) -> (-2.7622, 33.9875)
  line L62 (-2.7622, 33.9875) -> (-2.7622, 24.4625)
  line L63 (-2.7622, 24.4625) -> (-10.3822, 33.9875) construction
  line L64 (-10.3822, 24.4625) -> (-2.7622, 33.9875) construction
  arc A1 (-10.5184, 25.2563) -> (-8.1372, 22.875) centre (-8.1372, 25.2563) ccw
  arc A2 (-5.0073, 22.875) -> (-2.6261, 25.2563) centre (-5.0073, 25.2563) ccw
  arc A3 (-2.6261, 33.1938) -> (-5.0073, 35.575) centre (-5.0073, 33.1938) ccw
  arc A4 (-8.1372, 35.575) -> (-10.5184, 33.1938) centre (-8.1372, 33.1938) ccw
  line L65 (-10.5184, 25.2563) -> (-10.5184, 33.1938)
  line L66 (-8.1372, 22.875) -> (-5.0073, 22.875)
  line L67 (-2.6261, 25.2563) -> (-2.6261, 33.1938)
  line L68 (-5.0073, 35.575) -> (-8.1372, 35.575)
  line L69 (0, 22.875) -> (-5.2816, 22.875)
  line L70 (-5.2816, 22.875) -> (-5.2816, 35.575)
  line L71 (-5.2816, 35.575) -> (0, 35.575)
  line L72 (0, 35.575) -> (0, 22.875)
  line L73 (0, 22.875) -> (-0.6985, 22.875)
  line L74 (-0.6985, 22.875) -> (-0.6985, 26.7)
  line L75 (-0.6985, 26.7) -> (0, 26.7)
  line L76 (0, 26.7) -> (0, 22.875)
  line L77 (-0.6985, 31.75) -> (0, 31.75)
  line L78 (0, 31.75) -> (0, 35.575)
  line L79 (0, 35.575) -> (-0.6985, 35.575)
  line L80 (-0.6985, 35.575) -> (-0.6985, 31.75)
  point P0 (0, 34.928)
  point P1 (-6.5722, 29.225)
  dimension "d19" = 8.001
  dimension "d20" = 9.525
  dimension "d21" = 7.62
  dimension "d22" = 2.3813
  dimension "d23" = 12.7
extrude "Extrusion4" cut sketch "Sketch4" against normal blind 8.763 contours L65 A4 L60 L53 | L53 L60 L58 L65 | L58 L60 L57 L65 | L65 L57 L60 L51 | L51 L60 A1 L65 | L60 L61 L70 L53 | L53 L70 L57 L58 L60 | L58 L57 L60 | A0 L49 | L49 A0 L55 L56 | L56 L55 A0 | L60 L57 L58 L70 L51 | L51 L70 L59 L60 | L70 L61 L62 L53 | L53 L62 L57 L70 | A4 L68 L70 L61 | L57 L70 L58 | A0 L55 L56 L47 | L47 A0 | L55 A0 L56 | L70 L58 L62 L51 | L51 L62 L59 L70 | L59 L70 L66 A1 | L62 A3 L67 L53 | L53 L67 L57 L62 | L57 L62 L58 L70 | L70 L68 A3 L61 | L62 L58 L67 L51 | L51 L67 A2 L62 | L59 A2 L66 L70 | L57 L67 L58 L62
properties part number "20keyCaseRIght" material "Aluminum 6061"
